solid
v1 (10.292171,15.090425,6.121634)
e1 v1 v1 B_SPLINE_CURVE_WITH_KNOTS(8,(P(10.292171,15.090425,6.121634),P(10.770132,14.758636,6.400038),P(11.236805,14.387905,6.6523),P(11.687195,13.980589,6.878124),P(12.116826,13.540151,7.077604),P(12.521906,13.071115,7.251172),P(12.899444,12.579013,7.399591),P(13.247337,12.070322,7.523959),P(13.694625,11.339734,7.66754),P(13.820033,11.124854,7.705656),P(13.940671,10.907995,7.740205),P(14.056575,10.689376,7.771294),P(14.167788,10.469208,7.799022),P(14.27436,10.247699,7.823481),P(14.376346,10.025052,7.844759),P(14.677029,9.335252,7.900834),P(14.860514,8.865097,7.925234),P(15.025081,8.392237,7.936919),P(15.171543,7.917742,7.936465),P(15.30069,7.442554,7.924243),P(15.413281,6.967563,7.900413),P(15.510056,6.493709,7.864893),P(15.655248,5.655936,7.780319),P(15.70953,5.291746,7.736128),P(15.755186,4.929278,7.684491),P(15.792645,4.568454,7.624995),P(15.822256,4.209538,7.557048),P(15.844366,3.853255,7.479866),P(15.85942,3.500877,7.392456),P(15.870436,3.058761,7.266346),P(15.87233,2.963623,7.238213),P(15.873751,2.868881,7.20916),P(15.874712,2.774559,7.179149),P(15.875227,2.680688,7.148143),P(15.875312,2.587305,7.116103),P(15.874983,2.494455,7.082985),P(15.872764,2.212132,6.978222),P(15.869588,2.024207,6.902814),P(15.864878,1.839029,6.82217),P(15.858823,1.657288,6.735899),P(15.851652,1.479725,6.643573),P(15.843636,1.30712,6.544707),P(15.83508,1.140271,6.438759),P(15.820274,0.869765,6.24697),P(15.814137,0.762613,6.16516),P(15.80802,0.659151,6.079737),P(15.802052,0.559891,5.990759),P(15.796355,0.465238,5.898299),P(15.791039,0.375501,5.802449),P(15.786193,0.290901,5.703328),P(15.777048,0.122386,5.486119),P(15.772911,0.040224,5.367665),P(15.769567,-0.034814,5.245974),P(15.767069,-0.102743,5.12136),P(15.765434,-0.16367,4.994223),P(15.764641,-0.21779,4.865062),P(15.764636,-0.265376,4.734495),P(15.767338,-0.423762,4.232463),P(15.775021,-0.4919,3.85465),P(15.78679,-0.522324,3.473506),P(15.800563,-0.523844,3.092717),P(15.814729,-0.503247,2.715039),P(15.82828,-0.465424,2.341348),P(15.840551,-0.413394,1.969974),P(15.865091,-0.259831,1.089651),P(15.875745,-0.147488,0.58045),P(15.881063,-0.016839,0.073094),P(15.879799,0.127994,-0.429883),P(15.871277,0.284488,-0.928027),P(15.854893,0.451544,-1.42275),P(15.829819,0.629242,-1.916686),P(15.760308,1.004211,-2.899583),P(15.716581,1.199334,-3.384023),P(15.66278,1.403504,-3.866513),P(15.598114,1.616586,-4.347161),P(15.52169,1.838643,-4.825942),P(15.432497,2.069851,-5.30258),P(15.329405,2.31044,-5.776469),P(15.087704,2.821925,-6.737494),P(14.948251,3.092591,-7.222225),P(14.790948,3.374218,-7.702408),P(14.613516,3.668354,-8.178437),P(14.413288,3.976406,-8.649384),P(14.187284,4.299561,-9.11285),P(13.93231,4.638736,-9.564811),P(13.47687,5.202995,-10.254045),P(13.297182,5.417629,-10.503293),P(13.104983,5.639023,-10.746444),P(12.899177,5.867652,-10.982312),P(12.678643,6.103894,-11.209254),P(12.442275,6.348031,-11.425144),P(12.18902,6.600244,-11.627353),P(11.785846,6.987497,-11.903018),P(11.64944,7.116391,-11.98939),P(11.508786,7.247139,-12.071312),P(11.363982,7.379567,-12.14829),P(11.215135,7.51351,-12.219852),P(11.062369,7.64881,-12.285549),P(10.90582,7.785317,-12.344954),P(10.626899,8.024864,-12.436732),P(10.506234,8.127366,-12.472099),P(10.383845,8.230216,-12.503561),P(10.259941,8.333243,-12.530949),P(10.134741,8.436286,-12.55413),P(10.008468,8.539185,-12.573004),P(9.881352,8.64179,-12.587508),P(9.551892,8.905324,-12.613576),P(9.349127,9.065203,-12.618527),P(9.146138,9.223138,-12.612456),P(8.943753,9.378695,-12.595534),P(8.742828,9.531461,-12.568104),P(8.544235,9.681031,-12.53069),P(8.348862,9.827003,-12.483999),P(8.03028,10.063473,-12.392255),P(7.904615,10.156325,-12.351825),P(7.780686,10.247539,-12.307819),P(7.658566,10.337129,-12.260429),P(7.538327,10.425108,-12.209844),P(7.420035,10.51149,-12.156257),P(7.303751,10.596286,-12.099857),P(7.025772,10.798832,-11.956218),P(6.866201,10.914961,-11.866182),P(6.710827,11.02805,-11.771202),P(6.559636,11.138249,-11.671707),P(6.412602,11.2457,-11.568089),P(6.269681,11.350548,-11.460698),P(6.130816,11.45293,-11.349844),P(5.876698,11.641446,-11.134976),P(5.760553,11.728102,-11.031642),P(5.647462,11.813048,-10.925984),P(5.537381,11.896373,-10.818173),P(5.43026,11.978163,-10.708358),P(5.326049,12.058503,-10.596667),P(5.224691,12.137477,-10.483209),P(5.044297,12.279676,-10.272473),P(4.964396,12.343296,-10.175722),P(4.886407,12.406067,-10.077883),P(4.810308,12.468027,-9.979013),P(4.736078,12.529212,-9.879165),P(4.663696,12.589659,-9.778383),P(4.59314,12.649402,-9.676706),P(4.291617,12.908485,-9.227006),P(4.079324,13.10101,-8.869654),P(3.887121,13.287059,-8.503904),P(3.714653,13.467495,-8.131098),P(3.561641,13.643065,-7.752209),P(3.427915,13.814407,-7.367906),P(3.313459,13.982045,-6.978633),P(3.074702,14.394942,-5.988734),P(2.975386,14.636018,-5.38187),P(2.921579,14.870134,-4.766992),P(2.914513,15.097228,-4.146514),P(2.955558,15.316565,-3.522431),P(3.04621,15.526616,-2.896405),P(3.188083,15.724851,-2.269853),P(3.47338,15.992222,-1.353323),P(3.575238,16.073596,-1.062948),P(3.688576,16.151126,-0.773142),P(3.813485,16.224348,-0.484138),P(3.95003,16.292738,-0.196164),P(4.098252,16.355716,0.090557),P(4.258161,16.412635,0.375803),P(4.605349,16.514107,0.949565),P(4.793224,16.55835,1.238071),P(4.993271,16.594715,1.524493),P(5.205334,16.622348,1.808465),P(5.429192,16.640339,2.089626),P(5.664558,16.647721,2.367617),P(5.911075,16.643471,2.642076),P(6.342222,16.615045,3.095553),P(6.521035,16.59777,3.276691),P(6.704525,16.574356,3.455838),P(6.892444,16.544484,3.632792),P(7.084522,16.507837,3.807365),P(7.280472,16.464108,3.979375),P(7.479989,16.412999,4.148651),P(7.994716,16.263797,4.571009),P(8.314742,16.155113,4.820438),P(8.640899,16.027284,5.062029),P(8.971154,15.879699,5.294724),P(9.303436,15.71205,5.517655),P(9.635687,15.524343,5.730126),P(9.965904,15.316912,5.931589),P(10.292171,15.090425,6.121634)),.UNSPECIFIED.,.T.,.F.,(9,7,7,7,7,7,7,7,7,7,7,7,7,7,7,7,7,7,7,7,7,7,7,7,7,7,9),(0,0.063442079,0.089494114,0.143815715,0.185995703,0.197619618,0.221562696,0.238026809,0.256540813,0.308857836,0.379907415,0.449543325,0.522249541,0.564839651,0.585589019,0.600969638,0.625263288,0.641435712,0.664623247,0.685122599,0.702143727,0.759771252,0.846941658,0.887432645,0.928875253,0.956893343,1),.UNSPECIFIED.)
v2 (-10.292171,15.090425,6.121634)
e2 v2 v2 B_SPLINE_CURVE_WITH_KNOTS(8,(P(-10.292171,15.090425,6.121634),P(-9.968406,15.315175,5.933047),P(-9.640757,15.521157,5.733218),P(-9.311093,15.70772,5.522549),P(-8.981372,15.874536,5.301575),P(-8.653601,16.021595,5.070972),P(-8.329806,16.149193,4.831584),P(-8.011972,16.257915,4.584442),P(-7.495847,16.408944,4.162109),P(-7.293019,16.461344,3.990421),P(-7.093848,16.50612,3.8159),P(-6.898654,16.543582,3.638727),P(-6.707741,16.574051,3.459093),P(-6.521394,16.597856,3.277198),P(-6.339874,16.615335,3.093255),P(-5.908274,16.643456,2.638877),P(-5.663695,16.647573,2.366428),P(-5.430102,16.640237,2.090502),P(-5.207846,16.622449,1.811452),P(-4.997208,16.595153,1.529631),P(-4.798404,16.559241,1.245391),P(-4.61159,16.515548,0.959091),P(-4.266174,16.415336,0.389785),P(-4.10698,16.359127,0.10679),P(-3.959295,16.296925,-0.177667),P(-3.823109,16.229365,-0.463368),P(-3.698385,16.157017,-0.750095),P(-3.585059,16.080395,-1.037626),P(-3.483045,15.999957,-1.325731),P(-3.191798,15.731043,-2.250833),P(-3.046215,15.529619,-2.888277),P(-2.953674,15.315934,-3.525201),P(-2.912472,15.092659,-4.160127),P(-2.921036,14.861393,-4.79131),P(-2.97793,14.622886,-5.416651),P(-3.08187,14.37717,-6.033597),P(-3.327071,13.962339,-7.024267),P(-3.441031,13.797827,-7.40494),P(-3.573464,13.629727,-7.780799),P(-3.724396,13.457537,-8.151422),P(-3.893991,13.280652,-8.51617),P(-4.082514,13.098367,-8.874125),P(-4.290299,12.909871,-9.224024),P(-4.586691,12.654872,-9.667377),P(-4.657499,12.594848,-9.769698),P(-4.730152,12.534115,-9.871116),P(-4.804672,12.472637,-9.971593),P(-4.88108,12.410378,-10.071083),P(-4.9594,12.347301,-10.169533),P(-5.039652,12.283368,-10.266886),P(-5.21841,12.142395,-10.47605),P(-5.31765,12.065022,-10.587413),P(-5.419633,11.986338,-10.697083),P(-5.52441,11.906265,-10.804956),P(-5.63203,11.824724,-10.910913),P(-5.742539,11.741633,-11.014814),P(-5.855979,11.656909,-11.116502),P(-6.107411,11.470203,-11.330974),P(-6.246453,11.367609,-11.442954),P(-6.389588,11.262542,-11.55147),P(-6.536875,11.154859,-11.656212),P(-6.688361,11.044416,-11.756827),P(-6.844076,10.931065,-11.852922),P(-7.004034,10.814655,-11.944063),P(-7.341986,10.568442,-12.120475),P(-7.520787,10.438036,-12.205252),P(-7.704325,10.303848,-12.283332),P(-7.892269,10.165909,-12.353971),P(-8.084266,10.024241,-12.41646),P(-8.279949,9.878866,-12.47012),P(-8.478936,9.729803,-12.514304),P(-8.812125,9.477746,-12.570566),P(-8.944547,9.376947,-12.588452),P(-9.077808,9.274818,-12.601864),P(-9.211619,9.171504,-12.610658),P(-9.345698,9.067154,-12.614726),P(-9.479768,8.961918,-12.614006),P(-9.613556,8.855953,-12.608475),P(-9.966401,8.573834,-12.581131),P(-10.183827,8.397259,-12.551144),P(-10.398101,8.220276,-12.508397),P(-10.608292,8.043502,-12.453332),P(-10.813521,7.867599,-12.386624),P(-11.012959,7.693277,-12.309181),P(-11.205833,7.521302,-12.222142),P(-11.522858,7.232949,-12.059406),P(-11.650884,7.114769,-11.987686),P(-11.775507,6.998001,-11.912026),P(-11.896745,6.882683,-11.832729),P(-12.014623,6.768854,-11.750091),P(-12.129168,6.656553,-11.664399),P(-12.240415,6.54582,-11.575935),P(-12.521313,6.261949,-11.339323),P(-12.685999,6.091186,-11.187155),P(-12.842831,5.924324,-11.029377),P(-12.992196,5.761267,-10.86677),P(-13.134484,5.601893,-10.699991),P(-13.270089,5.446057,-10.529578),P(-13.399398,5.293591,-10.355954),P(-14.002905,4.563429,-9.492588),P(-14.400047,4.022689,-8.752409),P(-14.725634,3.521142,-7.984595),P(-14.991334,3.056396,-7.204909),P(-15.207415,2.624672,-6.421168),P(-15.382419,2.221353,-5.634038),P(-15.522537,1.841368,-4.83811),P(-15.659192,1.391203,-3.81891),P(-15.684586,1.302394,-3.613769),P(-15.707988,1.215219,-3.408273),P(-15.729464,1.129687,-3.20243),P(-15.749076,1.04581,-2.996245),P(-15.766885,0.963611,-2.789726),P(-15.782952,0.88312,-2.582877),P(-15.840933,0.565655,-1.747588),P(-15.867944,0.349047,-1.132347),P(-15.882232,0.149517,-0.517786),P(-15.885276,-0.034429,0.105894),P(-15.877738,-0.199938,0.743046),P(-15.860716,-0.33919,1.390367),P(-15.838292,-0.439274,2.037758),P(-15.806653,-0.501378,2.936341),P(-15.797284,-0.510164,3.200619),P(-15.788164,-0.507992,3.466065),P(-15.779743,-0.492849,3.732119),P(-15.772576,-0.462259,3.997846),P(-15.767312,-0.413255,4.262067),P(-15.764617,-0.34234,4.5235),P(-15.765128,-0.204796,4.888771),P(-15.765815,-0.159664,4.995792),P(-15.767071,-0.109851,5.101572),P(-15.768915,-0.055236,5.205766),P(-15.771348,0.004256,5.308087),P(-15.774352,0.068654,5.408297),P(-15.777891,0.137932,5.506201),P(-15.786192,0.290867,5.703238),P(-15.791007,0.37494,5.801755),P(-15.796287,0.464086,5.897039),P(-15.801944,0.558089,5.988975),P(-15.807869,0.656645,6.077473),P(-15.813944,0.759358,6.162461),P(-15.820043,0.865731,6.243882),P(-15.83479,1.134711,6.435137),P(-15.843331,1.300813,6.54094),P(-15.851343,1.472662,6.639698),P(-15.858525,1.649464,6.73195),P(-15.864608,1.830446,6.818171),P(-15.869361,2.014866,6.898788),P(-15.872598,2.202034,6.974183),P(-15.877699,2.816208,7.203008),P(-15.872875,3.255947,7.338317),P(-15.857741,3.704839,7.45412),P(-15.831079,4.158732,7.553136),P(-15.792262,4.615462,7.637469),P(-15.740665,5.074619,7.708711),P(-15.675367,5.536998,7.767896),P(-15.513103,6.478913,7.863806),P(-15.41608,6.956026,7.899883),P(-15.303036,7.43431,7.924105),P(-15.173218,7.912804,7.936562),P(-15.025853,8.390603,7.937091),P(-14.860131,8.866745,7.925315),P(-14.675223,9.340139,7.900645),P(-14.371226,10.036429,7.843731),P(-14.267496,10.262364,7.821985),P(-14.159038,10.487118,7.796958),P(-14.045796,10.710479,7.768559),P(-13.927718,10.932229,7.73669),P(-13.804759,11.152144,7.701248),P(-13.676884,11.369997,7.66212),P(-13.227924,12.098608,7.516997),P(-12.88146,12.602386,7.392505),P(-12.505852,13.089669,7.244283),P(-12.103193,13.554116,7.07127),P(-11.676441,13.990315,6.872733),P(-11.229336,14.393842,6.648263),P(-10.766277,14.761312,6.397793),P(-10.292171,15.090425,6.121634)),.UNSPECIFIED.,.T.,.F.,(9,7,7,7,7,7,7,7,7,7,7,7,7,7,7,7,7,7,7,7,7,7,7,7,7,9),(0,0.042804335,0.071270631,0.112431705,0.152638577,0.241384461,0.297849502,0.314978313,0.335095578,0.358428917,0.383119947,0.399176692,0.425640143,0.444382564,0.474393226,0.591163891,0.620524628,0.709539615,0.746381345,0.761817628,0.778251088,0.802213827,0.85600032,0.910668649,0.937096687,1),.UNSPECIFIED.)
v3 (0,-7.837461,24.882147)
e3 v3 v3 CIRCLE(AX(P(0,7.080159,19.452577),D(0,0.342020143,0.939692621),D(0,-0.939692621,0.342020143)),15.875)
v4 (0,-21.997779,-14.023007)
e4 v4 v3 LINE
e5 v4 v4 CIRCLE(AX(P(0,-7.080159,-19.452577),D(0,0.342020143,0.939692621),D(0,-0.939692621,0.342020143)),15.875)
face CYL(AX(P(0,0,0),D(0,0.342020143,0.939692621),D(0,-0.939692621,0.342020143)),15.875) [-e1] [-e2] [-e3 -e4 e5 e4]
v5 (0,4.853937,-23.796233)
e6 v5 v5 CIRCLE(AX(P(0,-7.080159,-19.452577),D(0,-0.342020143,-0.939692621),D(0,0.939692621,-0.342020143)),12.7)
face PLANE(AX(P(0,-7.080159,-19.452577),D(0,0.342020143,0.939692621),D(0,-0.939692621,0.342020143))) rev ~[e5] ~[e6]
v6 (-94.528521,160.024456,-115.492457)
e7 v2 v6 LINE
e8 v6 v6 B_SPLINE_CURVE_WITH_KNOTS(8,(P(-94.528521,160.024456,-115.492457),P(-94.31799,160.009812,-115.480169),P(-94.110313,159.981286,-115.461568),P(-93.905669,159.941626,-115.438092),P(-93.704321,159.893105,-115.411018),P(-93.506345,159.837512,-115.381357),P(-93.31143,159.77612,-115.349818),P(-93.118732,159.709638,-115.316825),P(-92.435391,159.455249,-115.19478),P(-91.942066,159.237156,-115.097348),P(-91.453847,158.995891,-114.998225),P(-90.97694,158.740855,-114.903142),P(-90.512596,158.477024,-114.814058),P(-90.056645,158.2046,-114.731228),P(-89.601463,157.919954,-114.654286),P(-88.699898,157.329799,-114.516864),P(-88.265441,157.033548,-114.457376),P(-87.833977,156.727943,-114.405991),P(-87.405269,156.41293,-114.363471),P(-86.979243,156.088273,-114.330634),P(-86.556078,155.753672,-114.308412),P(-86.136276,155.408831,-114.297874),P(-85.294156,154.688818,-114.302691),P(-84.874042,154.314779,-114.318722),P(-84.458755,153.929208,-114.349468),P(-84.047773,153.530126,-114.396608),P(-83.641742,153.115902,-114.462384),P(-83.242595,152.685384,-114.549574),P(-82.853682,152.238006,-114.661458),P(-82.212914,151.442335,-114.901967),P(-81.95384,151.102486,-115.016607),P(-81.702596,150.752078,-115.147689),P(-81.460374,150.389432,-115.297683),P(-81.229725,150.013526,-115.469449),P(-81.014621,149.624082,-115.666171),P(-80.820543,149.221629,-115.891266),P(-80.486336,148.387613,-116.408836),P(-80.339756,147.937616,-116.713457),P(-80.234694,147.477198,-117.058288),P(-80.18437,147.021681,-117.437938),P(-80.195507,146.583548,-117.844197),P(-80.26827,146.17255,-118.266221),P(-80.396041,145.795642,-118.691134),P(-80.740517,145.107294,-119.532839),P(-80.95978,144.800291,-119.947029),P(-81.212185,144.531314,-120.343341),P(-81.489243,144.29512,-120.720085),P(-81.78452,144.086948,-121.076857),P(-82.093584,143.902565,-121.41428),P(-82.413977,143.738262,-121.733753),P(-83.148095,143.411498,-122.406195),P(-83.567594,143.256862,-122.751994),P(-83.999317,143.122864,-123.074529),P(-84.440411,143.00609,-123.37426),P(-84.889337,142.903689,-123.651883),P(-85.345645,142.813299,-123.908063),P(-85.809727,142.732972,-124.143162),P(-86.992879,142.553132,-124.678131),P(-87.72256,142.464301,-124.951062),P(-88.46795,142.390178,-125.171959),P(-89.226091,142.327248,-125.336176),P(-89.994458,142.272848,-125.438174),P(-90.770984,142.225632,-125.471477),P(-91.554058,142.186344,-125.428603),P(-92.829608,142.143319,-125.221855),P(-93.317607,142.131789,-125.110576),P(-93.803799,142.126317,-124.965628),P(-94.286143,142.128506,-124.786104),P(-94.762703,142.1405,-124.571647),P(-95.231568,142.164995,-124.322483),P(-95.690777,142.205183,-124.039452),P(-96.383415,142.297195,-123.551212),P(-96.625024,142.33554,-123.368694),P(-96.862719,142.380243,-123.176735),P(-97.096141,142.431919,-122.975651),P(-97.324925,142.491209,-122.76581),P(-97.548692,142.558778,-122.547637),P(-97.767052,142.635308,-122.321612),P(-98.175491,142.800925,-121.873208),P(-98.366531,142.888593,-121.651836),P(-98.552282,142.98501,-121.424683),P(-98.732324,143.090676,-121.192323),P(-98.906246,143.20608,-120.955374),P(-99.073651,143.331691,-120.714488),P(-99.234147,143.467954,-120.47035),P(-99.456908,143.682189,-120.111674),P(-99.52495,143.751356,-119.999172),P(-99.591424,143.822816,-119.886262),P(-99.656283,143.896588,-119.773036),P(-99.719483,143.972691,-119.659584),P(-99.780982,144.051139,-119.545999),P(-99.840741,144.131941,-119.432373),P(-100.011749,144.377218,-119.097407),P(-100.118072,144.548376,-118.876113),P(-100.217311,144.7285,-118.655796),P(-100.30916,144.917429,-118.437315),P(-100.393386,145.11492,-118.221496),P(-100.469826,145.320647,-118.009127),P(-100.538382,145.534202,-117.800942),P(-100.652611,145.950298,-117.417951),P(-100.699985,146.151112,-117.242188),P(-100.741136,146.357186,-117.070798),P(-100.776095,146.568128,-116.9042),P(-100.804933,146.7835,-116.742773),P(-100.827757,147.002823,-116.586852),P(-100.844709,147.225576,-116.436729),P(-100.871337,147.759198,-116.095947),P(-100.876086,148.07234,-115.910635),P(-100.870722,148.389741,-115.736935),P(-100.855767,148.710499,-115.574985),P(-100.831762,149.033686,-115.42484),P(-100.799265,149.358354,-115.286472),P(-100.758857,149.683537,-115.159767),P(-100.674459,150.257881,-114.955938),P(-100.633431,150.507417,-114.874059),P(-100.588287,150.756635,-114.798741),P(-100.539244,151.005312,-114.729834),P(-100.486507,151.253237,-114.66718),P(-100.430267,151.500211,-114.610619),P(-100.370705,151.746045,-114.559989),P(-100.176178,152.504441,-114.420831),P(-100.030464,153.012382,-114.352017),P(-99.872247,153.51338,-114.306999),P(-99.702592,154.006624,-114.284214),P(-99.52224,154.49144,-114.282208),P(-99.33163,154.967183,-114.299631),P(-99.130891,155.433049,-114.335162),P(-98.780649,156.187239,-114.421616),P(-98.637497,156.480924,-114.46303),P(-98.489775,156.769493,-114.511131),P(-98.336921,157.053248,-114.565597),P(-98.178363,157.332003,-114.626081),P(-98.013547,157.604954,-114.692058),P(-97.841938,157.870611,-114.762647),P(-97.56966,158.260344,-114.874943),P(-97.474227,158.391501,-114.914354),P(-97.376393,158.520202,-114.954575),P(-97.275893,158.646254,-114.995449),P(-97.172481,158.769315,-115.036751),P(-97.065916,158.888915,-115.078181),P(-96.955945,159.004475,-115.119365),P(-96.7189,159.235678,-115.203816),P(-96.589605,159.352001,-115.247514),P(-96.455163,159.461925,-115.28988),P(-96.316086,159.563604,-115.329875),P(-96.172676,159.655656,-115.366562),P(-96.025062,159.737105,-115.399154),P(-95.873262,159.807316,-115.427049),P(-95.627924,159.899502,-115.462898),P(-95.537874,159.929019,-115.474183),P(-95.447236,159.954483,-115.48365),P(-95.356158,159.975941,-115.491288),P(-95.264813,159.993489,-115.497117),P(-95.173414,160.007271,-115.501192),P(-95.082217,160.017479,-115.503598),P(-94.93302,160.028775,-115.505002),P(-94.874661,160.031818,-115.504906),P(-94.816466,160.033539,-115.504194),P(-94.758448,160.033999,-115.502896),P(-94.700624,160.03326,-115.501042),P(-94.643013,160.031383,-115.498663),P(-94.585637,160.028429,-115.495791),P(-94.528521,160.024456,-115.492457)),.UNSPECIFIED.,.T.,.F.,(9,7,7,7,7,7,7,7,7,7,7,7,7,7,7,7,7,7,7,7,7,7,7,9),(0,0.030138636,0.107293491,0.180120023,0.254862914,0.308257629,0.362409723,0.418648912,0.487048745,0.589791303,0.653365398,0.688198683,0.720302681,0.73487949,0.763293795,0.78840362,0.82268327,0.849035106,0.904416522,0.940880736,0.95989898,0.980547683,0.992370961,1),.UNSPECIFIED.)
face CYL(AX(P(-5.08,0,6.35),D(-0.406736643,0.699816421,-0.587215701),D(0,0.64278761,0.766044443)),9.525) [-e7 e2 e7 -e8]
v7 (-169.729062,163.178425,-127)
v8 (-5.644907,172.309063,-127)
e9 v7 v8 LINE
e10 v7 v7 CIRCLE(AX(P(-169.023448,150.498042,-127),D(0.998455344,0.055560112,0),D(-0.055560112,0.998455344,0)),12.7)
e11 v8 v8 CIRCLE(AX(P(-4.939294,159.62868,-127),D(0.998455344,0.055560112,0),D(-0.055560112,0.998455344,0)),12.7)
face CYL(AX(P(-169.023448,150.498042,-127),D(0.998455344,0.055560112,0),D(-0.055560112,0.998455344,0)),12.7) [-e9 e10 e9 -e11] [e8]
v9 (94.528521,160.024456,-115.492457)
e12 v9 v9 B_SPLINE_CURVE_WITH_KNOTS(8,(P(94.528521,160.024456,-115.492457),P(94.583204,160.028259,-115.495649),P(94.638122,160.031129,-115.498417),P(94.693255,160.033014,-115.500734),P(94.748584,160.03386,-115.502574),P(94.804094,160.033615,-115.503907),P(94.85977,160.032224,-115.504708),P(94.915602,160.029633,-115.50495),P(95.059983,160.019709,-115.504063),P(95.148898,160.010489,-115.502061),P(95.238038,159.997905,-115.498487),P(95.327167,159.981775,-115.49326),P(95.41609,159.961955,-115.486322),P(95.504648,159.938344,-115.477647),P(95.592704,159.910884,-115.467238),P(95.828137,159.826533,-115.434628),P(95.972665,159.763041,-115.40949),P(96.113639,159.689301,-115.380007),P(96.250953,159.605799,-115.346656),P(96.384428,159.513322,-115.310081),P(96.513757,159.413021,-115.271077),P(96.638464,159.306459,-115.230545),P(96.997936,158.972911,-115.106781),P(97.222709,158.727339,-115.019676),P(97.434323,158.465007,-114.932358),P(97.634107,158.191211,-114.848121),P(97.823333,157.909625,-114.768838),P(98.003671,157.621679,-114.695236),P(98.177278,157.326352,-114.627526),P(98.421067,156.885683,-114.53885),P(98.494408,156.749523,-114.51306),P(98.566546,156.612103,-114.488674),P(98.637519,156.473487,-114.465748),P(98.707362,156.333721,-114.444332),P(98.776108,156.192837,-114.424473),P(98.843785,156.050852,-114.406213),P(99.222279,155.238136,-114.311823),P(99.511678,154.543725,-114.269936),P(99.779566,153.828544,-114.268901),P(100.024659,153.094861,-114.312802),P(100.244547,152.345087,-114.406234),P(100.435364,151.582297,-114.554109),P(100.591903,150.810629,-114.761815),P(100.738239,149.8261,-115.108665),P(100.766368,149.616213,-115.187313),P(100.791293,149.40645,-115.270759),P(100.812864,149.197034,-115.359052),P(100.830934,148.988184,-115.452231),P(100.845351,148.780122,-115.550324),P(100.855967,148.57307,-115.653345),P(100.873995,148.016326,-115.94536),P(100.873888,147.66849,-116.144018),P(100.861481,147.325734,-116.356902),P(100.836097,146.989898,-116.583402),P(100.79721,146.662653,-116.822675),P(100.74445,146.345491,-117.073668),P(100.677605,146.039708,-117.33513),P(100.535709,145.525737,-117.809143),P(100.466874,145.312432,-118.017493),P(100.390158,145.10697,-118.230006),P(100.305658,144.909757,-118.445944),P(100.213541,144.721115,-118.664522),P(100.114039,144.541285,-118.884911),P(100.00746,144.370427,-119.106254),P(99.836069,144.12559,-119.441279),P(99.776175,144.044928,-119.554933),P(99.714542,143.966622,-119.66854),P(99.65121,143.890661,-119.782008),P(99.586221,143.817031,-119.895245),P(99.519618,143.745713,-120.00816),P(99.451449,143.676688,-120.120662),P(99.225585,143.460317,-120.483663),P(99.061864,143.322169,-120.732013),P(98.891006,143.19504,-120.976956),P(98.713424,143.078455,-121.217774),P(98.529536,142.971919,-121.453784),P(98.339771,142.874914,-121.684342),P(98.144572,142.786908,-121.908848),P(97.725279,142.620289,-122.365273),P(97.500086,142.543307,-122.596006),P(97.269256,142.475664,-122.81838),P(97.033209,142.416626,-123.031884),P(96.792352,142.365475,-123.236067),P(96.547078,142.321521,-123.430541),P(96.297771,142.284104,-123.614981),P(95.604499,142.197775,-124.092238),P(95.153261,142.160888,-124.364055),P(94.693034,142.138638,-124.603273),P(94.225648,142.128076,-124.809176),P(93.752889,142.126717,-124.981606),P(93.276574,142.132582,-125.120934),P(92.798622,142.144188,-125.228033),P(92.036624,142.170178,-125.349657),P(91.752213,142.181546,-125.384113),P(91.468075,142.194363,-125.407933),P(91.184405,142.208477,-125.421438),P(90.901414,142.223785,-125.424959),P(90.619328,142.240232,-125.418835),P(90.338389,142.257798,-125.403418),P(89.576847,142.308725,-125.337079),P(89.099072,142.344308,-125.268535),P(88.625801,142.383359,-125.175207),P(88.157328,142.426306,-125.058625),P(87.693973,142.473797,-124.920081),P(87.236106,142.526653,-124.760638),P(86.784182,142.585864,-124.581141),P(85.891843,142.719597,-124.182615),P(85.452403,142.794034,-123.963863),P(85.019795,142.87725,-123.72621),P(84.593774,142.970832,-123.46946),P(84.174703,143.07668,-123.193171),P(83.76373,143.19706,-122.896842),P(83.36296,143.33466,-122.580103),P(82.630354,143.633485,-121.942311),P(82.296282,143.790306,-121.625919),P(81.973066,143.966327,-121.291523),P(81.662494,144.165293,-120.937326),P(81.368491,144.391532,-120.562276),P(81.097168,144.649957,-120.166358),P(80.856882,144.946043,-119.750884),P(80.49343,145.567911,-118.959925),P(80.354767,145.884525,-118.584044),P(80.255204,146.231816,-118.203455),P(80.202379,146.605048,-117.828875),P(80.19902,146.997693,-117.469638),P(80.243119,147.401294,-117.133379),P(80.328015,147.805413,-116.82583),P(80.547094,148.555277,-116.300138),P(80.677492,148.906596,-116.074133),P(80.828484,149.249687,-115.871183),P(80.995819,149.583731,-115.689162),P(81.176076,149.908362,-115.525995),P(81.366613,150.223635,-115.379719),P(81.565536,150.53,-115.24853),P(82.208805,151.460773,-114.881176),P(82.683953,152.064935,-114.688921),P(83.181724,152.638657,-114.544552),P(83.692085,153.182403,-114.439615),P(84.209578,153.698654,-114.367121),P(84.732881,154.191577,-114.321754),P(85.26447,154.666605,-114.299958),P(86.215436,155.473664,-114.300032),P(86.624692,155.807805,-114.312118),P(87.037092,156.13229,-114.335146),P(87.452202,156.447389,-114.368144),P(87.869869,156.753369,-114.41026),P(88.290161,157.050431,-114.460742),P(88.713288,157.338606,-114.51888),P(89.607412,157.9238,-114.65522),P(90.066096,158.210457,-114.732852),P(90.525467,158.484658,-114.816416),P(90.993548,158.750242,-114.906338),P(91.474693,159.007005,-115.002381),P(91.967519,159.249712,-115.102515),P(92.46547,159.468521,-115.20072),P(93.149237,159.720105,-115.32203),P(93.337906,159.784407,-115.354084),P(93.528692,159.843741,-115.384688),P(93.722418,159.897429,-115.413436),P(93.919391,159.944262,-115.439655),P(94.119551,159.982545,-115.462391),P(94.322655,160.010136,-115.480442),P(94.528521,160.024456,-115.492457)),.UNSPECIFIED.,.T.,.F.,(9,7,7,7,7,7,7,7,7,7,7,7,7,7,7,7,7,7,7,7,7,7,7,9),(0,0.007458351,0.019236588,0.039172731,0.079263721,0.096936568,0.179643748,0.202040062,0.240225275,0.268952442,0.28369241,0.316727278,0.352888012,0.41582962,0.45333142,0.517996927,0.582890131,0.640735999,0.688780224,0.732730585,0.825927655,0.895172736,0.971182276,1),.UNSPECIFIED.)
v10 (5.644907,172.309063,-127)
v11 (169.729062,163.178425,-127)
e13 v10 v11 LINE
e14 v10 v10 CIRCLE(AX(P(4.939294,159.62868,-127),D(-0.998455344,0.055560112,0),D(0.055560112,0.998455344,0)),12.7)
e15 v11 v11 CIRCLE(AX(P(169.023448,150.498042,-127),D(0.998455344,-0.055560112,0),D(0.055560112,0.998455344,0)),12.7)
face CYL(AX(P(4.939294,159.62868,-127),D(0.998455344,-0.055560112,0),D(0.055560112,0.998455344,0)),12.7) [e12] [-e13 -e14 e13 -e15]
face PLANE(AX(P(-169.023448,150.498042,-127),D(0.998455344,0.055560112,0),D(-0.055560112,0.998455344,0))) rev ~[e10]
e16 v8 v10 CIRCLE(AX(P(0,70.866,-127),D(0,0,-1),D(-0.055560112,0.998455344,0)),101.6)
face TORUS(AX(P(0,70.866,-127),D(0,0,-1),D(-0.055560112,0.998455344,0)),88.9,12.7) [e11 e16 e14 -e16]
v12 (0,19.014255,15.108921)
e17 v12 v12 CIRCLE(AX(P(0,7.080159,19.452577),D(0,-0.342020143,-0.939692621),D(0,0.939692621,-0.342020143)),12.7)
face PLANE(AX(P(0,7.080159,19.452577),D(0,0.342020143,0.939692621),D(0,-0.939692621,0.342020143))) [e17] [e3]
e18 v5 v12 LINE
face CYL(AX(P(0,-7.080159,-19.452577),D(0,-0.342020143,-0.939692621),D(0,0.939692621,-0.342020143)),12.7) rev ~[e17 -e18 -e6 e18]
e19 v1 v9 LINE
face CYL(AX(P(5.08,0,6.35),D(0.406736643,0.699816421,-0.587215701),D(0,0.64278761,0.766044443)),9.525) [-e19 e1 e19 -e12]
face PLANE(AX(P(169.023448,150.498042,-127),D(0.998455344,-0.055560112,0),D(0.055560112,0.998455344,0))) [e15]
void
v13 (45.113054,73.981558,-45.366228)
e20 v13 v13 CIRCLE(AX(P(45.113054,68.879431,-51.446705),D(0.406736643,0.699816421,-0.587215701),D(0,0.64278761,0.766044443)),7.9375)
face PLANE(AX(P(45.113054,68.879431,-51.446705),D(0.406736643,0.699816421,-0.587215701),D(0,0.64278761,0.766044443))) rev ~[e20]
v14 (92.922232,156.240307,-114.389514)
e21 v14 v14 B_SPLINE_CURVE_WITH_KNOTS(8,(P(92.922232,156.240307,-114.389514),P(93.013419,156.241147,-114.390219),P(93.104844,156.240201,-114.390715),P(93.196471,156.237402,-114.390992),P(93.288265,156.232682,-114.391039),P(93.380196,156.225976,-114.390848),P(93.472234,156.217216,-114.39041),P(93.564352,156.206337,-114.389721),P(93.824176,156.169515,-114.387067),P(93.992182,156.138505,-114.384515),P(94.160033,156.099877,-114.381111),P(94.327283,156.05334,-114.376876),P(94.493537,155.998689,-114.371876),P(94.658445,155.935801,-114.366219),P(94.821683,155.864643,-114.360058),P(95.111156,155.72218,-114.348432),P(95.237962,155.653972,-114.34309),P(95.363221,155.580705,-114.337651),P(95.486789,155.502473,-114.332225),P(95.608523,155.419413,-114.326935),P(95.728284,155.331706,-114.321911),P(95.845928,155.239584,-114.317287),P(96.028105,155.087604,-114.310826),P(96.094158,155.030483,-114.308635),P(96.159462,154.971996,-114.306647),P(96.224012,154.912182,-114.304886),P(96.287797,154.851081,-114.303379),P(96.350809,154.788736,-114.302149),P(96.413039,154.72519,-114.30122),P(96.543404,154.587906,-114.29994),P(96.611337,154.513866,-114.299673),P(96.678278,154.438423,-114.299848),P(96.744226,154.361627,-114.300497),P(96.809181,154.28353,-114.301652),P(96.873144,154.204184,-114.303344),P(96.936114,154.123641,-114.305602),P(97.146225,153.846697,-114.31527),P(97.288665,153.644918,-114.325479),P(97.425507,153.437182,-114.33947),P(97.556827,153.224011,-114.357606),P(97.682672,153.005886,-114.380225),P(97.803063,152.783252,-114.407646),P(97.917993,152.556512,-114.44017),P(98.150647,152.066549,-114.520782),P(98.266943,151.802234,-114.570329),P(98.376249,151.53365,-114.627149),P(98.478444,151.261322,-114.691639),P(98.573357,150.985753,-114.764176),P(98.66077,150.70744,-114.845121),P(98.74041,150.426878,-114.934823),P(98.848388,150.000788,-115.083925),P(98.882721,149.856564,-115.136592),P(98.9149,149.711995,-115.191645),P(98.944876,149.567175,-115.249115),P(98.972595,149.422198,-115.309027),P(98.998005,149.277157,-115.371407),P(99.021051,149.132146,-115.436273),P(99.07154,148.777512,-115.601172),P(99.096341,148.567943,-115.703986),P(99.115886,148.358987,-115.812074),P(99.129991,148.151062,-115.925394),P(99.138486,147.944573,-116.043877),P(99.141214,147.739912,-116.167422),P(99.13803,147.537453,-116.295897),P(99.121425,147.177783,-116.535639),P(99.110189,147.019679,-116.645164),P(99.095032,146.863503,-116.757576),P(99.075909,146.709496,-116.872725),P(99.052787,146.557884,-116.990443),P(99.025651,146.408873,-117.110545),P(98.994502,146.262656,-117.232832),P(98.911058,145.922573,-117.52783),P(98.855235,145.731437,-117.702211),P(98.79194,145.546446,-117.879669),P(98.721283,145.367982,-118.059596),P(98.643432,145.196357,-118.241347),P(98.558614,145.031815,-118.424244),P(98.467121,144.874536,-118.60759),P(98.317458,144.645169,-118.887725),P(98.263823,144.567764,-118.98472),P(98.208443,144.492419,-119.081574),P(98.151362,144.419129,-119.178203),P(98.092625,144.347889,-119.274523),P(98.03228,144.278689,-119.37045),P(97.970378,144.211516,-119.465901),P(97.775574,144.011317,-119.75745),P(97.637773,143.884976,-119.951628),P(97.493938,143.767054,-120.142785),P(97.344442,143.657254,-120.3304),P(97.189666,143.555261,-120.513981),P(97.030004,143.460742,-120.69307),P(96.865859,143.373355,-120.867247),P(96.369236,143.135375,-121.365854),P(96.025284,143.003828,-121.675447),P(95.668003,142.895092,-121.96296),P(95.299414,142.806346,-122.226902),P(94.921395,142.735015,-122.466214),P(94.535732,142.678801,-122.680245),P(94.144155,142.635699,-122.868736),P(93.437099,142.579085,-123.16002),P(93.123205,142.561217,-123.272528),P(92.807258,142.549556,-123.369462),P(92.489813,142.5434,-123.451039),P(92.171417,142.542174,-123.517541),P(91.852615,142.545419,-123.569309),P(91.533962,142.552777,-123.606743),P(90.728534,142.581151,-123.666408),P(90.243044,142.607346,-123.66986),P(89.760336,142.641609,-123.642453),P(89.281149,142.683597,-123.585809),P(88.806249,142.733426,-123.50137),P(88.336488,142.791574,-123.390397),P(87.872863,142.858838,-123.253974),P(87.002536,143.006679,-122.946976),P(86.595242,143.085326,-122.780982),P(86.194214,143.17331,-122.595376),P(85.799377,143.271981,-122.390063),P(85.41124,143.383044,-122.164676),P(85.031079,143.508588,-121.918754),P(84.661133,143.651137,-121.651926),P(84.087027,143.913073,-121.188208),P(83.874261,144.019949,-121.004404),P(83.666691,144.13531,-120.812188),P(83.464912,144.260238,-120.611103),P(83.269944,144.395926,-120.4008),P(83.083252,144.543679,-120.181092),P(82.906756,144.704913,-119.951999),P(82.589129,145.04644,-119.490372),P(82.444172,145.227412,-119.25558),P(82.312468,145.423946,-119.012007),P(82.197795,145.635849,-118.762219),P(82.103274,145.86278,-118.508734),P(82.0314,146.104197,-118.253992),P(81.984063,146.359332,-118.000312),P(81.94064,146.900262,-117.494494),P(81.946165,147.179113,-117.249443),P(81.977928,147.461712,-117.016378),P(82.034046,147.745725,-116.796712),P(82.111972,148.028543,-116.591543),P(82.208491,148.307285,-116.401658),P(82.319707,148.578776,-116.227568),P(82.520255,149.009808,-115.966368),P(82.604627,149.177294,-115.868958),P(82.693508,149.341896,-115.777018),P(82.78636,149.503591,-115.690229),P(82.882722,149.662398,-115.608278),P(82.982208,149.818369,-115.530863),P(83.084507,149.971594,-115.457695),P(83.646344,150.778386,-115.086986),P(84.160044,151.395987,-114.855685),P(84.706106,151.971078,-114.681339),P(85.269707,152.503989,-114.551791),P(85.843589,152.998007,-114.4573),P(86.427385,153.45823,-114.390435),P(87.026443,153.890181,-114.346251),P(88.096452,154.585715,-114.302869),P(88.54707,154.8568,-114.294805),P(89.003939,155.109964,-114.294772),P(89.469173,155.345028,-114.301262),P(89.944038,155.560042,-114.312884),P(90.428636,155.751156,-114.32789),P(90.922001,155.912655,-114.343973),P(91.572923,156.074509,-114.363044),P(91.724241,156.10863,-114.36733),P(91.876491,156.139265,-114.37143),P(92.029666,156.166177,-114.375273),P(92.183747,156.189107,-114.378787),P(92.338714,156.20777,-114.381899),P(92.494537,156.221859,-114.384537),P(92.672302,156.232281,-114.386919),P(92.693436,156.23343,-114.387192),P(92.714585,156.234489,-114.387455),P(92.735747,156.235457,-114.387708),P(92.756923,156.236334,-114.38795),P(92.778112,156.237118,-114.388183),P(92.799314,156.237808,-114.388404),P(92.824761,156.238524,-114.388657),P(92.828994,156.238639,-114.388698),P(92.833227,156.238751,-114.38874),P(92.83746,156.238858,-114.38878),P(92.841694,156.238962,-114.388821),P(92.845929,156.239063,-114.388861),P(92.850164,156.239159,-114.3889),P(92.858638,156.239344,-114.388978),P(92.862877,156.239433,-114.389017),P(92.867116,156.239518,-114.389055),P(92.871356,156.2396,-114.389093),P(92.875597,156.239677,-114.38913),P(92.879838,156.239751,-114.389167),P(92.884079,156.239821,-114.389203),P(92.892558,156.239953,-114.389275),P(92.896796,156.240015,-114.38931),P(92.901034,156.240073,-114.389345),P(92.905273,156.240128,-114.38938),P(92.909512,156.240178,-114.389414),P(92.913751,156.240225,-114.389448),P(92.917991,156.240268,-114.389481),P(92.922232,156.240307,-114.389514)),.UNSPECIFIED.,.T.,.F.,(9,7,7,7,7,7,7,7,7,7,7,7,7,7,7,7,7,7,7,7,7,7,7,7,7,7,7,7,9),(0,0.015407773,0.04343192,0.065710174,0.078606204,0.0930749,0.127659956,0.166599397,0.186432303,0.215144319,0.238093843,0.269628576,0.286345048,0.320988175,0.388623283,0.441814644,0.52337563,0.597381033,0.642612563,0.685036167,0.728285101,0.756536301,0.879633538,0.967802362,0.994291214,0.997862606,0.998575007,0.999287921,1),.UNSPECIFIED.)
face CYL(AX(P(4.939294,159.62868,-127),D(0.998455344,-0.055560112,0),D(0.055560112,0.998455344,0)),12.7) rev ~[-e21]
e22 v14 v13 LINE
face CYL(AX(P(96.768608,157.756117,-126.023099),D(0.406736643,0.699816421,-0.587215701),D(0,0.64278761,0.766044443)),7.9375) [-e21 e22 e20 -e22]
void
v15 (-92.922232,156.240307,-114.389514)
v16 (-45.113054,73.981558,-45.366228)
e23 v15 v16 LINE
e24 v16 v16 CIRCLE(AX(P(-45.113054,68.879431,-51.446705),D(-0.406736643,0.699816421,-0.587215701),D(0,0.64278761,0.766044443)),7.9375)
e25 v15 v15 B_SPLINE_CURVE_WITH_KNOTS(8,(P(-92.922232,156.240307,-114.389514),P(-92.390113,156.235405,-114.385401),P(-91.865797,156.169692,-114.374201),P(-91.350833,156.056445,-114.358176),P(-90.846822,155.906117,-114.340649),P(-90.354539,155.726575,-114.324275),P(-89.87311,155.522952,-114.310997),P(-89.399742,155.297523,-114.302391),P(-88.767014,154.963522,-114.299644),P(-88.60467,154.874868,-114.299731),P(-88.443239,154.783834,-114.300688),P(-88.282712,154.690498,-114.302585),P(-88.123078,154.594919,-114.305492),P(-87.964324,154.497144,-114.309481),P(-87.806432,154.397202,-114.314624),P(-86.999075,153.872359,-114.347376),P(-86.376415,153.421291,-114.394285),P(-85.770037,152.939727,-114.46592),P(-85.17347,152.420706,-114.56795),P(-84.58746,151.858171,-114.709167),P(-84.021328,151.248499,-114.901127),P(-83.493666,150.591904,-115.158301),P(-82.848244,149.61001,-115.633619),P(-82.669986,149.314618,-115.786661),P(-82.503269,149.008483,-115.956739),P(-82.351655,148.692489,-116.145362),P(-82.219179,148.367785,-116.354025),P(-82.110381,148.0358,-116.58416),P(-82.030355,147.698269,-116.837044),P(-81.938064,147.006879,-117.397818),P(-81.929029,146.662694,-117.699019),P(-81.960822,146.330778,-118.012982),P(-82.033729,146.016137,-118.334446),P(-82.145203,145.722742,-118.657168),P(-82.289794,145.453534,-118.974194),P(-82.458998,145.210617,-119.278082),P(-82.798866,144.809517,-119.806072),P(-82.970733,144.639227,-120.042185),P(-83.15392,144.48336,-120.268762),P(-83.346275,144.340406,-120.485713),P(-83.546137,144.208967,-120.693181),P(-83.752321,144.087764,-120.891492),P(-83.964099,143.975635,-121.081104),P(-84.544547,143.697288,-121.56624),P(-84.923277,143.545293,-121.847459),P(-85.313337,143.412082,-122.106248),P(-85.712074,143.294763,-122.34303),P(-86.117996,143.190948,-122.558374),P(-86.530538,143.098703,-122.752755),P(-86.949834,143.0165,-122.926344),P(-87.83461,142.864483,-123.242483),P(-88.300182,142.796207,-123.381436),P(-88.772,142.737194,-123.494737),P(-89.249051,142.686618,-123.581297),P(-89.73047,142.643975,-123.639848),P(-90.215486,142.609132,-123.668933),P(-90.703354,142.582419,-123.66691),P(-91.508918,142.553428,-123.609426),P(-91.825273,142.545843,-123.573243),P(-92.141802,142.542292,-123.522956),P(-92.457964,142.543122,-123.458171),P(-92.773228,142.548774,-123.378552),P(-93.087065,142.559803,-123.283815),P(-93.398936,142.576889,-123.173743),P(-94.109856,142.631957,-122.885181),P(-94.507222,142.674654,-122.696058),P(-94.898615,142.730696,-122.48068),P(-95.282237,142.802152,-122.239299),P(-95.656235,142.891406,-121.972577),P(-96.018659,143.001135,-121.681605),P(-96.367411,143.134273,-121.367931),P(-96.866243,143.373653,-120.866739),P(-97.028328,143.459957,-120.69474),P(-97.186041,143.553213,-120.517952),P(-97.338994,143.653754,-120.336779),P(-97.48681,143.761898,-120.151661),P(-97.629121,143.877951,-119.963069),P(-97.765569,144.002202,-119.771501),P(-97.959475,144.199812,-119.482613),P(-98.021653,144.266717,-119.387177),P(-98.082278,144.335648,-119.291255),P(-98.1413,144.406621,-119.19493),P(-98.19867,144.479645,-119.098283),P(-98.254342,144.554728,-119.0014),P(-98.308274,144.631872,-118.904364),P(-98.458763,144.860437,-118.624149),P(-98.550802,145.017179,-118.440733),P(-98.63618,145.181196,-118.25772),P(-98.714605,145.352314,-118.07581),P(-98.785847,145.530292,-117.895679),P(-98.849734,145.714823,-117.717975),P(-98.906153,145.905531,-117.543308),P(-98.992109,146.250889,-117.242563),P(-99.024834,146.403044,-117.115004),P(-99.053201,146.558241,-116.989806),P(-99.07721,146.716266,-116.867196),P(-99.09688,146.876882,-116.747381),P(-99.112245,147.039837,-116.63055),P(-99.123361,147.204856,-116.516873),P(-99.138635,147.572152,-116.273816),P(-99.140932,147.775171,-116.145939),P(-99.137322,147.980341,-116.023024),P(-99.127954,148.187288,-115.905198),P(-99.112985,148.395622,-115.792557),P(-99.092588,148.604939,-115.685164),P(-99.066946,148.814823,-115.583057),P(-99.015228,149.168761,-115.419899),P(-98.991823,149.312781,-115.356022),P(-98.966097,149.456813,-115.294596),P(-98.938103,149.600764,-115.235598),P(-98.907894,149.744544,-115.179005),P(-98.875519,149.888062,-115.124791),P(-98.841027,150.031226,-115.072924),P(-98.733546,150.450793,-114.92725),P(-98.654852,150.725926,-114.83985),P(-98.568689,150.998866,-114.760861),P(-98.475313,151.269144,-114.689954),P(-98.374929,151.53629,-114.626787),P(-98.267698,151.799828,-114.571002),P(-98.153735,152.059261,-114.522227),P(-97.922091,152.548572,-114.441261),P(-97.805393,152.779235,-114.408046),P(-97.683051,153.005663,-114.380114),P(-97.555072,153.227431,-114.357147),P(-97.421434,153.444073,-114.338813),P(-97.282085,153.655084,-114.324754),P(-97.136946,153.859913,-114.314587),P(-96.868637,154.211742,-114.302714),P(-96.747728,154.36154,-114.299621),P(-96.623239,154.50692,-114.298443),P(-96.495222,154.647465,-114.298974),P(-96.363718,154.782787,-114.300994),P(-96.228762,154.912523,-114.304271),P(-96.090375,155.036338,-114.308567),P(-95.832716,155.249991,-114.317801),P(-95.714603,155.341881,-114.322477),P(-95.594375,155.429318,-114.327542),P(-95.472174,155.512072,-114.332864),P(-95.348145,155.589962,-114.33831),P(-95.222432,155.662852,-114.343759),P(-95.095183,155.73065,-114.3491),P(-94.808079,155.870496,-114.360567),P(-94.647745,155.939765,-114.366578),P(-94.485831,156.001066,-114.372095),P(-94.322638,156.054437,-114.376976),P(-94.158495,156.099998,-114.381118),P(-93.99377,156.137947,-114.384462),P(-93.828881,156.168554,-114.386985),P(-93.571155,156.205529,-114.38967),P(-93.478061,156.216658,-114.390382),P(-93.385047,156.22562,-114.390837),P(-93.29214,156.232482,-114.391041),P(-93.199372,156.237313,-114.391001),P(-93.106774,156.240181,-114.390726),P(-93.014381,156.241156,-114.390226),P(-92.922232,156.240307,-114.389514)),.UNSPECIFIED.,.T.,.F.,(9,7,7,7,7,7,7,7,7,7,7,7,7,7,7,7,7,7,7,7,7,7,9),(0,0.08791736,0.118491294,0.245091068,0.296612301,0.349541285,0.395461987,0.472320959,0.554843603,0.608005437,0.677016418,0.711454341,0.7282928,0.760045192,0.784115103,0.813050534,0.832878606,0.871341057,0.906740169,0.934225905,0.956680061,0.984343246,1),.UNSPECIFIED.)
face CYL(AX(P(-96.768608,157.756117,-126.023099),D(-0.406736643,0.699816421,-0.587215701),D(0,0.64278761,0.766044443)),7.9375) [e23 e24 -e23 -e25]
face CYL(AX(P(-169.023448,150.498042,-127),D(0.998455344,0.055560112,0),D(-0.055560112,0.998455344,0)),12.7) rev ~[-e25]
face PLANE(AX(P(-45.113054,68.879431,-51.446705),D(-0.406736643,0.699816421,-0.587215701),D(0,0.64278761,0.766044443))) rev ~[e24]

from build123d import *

# Parameters (mm, degrees)
SKETCH1_R           = 15.875
BOSS_EXTRUDE1_DEPTH = 20.701
SWEEP1_PROFILE_R    = 9.525
SWEEP2_PROFILE_R    = 9.525
CUT_EXTRUDE1_REACH  = 233.612
SKETCH2_R           = 12.7
SKETCH36_R          = 7.9375
CUT_EXTRUDE2_DEPTH  = 127
SKETCH37_R          = 7.9375
CUT_EXTRUDE3_DEPTH  = 127
SWEEP3_PROFILE_R    = 12.7


with BuildPart() as part:
    # Sketch1 → Boss-Extrude1 (new, symmetric)
    with BuildSketch(Plane(origin=(0, 0, 0), x_dir=(1, 0, 0), z_dir=(0, 0.34202014332566943, 0.9396926207859081))):
        with Locations(Location((0, 0, 0), (0, 0, 270))):
            Circle(SKETCH1_R)
    extrude(amount=BOSS_EXTRUDE1_DEPTH, both=True)

    # Sweep1: sweep along a path in Sketch4
    with BuildLine(Plane(origin=(0, 3.126764616, 3.726332964), x_dir=(1, 0, 0), z_dir=(0, 0.6427876096865406, 0.7660444431189771))) as sweep1_path:
        Line((-5.08, -4.081701322), (-96.768607765, 201.854283468))
    # Sweep1 profile (on start of the path) → Sweep1 (sweep)
    with BuildSketch(Plane(origin=(-5.08, 0, 6.35), x_dir=(0, 0.6427876096865406, 0.7660444431189771), z_dir=(-0.4067366430758009, 0.6998164213636971, -0.5872157010580841))):
        Circle(SWEEP1_PROFILE_R)
    sweep(path=sweep1_path.line)

    # Sweep2: sweep along a path in Sketch15
    with BuildLine(Plane(origin=(0, 3.126764616, 3.726332964), x_dir=(1, 0, 0), z_dir=(0, 0.6427876096865406, 0.7660444431189771))) as sweep2_path:
        Line((5.08, -4.081701322), (96.768607765, 201.854283468))
    # Sweep2 profile (on start of the path) → Sweep2 (sweep)
    with BuildSketch(Plane(origin=(5.08, 0, 6.35), x_dir=(0, 0.6427876096865406, 0.766044443118977), z_dir=(0.40673664307580104, 0.6998164213636969, -0.587215701058084))):
        Circle(SWEEP2_PROFILE_R)
    sweep(path=sweep2_path.line)

    # Sketch2 → Cut-Extrude1 (cut, up to next)
    with BuildSketch(Plane(origin=(0, -7.080158987, -19.452576943), x_dir=(-1, 0, 0), z_dir=(0, -0.34202014332566943, -0.9396926207859081)), mode=Mode.PRIVATE) as cut_extrude1_sk1:
        with Locations(Location((0, 0, 0), (0, 0, 90))):
            Circle(SKETCH2_R)
    cut_extrude1_tool1 = extrude(cut_extrude1_sk1.sketch, amount=-CUT_EXTRUDE1_REACH, mode=Mode.PRIVATE) & part.part
    add(cut_extrude1_tool1.solids().sort_by_distance((0, -7.080159, -19.452577))[0], mode=Mode.SUBTRACT)

    # Sketch36 → Cut-Extrude2 (cut)
    with BuildSketch(Plane(origin=(-91.012368417, 156.592603715, -131.396796022), x_dir=(0.9135454575587967, 0.3115870518309583, -0.26143489840681283), z_dir=(-0.40673664307580104, 0.6998164213636969, -0.5872157010580842))):
        with Locations(Location((-6.300922529, -4.864467561, 0), (0, 0, 270.000776077))):
            Circle(SKETCH36_R)
    extrude(amount=-CUT_EXTRUDE2_DEPTH, mode=Mode.SUBTRACT)

    # Sketch37 → Cut-Extrude3 (cut)
    with BuildSketch(Plane(origin=(91.012368417, 156.592603715, -131.396796022), x_dir=(0.9135454575587966, -0.3115870518309586, 0.261434898406813), z_dir=(0.4067366430758013, 0.699816421363697, -0.5872157010580837))):
        with Locations(Location((6.300922529, -4.864467561, 0), (0, 0, 269.999223923))):
            Circle(SKETCH37_R)
    extrude(amount=-CUT_EXTRUDE3_DEPTH, mode=Mode.SUBTRACT)

    # Sweep3: sweep along a path in Sketch40
    with BuildLine(Plane(origin=(-106.934, 0, -127), x_dir=(1, 0, 0), z_dir=(0, 0, 1))) as sweep3_path:
        Line((-62.089448271, 150.498042412), (101.994706052, 159.628680082))
        ThreePointArc((101.994706052, 159.628680082), (106.934, 159.766), (111.873293948, 159.628680082))
        Line((111.873293948, 159.628680082), (275.957448271, 150.498042412))
    # Sweep3 profile (on start of the path) → Sweep3 (sweep)
    with BuildSketch(Plane(origin=(-169.023448271, 150.498042412, -127), x_dir=(-0.0555601119023539, 0.9984553440016224, 0), z_dir=(0.9984553440016224, 0.0555601119023539, 0))):
        Circle(SWEEP3_PROFILE_R)
    sweep(path=sweep3_path.line)


solid = part.part
